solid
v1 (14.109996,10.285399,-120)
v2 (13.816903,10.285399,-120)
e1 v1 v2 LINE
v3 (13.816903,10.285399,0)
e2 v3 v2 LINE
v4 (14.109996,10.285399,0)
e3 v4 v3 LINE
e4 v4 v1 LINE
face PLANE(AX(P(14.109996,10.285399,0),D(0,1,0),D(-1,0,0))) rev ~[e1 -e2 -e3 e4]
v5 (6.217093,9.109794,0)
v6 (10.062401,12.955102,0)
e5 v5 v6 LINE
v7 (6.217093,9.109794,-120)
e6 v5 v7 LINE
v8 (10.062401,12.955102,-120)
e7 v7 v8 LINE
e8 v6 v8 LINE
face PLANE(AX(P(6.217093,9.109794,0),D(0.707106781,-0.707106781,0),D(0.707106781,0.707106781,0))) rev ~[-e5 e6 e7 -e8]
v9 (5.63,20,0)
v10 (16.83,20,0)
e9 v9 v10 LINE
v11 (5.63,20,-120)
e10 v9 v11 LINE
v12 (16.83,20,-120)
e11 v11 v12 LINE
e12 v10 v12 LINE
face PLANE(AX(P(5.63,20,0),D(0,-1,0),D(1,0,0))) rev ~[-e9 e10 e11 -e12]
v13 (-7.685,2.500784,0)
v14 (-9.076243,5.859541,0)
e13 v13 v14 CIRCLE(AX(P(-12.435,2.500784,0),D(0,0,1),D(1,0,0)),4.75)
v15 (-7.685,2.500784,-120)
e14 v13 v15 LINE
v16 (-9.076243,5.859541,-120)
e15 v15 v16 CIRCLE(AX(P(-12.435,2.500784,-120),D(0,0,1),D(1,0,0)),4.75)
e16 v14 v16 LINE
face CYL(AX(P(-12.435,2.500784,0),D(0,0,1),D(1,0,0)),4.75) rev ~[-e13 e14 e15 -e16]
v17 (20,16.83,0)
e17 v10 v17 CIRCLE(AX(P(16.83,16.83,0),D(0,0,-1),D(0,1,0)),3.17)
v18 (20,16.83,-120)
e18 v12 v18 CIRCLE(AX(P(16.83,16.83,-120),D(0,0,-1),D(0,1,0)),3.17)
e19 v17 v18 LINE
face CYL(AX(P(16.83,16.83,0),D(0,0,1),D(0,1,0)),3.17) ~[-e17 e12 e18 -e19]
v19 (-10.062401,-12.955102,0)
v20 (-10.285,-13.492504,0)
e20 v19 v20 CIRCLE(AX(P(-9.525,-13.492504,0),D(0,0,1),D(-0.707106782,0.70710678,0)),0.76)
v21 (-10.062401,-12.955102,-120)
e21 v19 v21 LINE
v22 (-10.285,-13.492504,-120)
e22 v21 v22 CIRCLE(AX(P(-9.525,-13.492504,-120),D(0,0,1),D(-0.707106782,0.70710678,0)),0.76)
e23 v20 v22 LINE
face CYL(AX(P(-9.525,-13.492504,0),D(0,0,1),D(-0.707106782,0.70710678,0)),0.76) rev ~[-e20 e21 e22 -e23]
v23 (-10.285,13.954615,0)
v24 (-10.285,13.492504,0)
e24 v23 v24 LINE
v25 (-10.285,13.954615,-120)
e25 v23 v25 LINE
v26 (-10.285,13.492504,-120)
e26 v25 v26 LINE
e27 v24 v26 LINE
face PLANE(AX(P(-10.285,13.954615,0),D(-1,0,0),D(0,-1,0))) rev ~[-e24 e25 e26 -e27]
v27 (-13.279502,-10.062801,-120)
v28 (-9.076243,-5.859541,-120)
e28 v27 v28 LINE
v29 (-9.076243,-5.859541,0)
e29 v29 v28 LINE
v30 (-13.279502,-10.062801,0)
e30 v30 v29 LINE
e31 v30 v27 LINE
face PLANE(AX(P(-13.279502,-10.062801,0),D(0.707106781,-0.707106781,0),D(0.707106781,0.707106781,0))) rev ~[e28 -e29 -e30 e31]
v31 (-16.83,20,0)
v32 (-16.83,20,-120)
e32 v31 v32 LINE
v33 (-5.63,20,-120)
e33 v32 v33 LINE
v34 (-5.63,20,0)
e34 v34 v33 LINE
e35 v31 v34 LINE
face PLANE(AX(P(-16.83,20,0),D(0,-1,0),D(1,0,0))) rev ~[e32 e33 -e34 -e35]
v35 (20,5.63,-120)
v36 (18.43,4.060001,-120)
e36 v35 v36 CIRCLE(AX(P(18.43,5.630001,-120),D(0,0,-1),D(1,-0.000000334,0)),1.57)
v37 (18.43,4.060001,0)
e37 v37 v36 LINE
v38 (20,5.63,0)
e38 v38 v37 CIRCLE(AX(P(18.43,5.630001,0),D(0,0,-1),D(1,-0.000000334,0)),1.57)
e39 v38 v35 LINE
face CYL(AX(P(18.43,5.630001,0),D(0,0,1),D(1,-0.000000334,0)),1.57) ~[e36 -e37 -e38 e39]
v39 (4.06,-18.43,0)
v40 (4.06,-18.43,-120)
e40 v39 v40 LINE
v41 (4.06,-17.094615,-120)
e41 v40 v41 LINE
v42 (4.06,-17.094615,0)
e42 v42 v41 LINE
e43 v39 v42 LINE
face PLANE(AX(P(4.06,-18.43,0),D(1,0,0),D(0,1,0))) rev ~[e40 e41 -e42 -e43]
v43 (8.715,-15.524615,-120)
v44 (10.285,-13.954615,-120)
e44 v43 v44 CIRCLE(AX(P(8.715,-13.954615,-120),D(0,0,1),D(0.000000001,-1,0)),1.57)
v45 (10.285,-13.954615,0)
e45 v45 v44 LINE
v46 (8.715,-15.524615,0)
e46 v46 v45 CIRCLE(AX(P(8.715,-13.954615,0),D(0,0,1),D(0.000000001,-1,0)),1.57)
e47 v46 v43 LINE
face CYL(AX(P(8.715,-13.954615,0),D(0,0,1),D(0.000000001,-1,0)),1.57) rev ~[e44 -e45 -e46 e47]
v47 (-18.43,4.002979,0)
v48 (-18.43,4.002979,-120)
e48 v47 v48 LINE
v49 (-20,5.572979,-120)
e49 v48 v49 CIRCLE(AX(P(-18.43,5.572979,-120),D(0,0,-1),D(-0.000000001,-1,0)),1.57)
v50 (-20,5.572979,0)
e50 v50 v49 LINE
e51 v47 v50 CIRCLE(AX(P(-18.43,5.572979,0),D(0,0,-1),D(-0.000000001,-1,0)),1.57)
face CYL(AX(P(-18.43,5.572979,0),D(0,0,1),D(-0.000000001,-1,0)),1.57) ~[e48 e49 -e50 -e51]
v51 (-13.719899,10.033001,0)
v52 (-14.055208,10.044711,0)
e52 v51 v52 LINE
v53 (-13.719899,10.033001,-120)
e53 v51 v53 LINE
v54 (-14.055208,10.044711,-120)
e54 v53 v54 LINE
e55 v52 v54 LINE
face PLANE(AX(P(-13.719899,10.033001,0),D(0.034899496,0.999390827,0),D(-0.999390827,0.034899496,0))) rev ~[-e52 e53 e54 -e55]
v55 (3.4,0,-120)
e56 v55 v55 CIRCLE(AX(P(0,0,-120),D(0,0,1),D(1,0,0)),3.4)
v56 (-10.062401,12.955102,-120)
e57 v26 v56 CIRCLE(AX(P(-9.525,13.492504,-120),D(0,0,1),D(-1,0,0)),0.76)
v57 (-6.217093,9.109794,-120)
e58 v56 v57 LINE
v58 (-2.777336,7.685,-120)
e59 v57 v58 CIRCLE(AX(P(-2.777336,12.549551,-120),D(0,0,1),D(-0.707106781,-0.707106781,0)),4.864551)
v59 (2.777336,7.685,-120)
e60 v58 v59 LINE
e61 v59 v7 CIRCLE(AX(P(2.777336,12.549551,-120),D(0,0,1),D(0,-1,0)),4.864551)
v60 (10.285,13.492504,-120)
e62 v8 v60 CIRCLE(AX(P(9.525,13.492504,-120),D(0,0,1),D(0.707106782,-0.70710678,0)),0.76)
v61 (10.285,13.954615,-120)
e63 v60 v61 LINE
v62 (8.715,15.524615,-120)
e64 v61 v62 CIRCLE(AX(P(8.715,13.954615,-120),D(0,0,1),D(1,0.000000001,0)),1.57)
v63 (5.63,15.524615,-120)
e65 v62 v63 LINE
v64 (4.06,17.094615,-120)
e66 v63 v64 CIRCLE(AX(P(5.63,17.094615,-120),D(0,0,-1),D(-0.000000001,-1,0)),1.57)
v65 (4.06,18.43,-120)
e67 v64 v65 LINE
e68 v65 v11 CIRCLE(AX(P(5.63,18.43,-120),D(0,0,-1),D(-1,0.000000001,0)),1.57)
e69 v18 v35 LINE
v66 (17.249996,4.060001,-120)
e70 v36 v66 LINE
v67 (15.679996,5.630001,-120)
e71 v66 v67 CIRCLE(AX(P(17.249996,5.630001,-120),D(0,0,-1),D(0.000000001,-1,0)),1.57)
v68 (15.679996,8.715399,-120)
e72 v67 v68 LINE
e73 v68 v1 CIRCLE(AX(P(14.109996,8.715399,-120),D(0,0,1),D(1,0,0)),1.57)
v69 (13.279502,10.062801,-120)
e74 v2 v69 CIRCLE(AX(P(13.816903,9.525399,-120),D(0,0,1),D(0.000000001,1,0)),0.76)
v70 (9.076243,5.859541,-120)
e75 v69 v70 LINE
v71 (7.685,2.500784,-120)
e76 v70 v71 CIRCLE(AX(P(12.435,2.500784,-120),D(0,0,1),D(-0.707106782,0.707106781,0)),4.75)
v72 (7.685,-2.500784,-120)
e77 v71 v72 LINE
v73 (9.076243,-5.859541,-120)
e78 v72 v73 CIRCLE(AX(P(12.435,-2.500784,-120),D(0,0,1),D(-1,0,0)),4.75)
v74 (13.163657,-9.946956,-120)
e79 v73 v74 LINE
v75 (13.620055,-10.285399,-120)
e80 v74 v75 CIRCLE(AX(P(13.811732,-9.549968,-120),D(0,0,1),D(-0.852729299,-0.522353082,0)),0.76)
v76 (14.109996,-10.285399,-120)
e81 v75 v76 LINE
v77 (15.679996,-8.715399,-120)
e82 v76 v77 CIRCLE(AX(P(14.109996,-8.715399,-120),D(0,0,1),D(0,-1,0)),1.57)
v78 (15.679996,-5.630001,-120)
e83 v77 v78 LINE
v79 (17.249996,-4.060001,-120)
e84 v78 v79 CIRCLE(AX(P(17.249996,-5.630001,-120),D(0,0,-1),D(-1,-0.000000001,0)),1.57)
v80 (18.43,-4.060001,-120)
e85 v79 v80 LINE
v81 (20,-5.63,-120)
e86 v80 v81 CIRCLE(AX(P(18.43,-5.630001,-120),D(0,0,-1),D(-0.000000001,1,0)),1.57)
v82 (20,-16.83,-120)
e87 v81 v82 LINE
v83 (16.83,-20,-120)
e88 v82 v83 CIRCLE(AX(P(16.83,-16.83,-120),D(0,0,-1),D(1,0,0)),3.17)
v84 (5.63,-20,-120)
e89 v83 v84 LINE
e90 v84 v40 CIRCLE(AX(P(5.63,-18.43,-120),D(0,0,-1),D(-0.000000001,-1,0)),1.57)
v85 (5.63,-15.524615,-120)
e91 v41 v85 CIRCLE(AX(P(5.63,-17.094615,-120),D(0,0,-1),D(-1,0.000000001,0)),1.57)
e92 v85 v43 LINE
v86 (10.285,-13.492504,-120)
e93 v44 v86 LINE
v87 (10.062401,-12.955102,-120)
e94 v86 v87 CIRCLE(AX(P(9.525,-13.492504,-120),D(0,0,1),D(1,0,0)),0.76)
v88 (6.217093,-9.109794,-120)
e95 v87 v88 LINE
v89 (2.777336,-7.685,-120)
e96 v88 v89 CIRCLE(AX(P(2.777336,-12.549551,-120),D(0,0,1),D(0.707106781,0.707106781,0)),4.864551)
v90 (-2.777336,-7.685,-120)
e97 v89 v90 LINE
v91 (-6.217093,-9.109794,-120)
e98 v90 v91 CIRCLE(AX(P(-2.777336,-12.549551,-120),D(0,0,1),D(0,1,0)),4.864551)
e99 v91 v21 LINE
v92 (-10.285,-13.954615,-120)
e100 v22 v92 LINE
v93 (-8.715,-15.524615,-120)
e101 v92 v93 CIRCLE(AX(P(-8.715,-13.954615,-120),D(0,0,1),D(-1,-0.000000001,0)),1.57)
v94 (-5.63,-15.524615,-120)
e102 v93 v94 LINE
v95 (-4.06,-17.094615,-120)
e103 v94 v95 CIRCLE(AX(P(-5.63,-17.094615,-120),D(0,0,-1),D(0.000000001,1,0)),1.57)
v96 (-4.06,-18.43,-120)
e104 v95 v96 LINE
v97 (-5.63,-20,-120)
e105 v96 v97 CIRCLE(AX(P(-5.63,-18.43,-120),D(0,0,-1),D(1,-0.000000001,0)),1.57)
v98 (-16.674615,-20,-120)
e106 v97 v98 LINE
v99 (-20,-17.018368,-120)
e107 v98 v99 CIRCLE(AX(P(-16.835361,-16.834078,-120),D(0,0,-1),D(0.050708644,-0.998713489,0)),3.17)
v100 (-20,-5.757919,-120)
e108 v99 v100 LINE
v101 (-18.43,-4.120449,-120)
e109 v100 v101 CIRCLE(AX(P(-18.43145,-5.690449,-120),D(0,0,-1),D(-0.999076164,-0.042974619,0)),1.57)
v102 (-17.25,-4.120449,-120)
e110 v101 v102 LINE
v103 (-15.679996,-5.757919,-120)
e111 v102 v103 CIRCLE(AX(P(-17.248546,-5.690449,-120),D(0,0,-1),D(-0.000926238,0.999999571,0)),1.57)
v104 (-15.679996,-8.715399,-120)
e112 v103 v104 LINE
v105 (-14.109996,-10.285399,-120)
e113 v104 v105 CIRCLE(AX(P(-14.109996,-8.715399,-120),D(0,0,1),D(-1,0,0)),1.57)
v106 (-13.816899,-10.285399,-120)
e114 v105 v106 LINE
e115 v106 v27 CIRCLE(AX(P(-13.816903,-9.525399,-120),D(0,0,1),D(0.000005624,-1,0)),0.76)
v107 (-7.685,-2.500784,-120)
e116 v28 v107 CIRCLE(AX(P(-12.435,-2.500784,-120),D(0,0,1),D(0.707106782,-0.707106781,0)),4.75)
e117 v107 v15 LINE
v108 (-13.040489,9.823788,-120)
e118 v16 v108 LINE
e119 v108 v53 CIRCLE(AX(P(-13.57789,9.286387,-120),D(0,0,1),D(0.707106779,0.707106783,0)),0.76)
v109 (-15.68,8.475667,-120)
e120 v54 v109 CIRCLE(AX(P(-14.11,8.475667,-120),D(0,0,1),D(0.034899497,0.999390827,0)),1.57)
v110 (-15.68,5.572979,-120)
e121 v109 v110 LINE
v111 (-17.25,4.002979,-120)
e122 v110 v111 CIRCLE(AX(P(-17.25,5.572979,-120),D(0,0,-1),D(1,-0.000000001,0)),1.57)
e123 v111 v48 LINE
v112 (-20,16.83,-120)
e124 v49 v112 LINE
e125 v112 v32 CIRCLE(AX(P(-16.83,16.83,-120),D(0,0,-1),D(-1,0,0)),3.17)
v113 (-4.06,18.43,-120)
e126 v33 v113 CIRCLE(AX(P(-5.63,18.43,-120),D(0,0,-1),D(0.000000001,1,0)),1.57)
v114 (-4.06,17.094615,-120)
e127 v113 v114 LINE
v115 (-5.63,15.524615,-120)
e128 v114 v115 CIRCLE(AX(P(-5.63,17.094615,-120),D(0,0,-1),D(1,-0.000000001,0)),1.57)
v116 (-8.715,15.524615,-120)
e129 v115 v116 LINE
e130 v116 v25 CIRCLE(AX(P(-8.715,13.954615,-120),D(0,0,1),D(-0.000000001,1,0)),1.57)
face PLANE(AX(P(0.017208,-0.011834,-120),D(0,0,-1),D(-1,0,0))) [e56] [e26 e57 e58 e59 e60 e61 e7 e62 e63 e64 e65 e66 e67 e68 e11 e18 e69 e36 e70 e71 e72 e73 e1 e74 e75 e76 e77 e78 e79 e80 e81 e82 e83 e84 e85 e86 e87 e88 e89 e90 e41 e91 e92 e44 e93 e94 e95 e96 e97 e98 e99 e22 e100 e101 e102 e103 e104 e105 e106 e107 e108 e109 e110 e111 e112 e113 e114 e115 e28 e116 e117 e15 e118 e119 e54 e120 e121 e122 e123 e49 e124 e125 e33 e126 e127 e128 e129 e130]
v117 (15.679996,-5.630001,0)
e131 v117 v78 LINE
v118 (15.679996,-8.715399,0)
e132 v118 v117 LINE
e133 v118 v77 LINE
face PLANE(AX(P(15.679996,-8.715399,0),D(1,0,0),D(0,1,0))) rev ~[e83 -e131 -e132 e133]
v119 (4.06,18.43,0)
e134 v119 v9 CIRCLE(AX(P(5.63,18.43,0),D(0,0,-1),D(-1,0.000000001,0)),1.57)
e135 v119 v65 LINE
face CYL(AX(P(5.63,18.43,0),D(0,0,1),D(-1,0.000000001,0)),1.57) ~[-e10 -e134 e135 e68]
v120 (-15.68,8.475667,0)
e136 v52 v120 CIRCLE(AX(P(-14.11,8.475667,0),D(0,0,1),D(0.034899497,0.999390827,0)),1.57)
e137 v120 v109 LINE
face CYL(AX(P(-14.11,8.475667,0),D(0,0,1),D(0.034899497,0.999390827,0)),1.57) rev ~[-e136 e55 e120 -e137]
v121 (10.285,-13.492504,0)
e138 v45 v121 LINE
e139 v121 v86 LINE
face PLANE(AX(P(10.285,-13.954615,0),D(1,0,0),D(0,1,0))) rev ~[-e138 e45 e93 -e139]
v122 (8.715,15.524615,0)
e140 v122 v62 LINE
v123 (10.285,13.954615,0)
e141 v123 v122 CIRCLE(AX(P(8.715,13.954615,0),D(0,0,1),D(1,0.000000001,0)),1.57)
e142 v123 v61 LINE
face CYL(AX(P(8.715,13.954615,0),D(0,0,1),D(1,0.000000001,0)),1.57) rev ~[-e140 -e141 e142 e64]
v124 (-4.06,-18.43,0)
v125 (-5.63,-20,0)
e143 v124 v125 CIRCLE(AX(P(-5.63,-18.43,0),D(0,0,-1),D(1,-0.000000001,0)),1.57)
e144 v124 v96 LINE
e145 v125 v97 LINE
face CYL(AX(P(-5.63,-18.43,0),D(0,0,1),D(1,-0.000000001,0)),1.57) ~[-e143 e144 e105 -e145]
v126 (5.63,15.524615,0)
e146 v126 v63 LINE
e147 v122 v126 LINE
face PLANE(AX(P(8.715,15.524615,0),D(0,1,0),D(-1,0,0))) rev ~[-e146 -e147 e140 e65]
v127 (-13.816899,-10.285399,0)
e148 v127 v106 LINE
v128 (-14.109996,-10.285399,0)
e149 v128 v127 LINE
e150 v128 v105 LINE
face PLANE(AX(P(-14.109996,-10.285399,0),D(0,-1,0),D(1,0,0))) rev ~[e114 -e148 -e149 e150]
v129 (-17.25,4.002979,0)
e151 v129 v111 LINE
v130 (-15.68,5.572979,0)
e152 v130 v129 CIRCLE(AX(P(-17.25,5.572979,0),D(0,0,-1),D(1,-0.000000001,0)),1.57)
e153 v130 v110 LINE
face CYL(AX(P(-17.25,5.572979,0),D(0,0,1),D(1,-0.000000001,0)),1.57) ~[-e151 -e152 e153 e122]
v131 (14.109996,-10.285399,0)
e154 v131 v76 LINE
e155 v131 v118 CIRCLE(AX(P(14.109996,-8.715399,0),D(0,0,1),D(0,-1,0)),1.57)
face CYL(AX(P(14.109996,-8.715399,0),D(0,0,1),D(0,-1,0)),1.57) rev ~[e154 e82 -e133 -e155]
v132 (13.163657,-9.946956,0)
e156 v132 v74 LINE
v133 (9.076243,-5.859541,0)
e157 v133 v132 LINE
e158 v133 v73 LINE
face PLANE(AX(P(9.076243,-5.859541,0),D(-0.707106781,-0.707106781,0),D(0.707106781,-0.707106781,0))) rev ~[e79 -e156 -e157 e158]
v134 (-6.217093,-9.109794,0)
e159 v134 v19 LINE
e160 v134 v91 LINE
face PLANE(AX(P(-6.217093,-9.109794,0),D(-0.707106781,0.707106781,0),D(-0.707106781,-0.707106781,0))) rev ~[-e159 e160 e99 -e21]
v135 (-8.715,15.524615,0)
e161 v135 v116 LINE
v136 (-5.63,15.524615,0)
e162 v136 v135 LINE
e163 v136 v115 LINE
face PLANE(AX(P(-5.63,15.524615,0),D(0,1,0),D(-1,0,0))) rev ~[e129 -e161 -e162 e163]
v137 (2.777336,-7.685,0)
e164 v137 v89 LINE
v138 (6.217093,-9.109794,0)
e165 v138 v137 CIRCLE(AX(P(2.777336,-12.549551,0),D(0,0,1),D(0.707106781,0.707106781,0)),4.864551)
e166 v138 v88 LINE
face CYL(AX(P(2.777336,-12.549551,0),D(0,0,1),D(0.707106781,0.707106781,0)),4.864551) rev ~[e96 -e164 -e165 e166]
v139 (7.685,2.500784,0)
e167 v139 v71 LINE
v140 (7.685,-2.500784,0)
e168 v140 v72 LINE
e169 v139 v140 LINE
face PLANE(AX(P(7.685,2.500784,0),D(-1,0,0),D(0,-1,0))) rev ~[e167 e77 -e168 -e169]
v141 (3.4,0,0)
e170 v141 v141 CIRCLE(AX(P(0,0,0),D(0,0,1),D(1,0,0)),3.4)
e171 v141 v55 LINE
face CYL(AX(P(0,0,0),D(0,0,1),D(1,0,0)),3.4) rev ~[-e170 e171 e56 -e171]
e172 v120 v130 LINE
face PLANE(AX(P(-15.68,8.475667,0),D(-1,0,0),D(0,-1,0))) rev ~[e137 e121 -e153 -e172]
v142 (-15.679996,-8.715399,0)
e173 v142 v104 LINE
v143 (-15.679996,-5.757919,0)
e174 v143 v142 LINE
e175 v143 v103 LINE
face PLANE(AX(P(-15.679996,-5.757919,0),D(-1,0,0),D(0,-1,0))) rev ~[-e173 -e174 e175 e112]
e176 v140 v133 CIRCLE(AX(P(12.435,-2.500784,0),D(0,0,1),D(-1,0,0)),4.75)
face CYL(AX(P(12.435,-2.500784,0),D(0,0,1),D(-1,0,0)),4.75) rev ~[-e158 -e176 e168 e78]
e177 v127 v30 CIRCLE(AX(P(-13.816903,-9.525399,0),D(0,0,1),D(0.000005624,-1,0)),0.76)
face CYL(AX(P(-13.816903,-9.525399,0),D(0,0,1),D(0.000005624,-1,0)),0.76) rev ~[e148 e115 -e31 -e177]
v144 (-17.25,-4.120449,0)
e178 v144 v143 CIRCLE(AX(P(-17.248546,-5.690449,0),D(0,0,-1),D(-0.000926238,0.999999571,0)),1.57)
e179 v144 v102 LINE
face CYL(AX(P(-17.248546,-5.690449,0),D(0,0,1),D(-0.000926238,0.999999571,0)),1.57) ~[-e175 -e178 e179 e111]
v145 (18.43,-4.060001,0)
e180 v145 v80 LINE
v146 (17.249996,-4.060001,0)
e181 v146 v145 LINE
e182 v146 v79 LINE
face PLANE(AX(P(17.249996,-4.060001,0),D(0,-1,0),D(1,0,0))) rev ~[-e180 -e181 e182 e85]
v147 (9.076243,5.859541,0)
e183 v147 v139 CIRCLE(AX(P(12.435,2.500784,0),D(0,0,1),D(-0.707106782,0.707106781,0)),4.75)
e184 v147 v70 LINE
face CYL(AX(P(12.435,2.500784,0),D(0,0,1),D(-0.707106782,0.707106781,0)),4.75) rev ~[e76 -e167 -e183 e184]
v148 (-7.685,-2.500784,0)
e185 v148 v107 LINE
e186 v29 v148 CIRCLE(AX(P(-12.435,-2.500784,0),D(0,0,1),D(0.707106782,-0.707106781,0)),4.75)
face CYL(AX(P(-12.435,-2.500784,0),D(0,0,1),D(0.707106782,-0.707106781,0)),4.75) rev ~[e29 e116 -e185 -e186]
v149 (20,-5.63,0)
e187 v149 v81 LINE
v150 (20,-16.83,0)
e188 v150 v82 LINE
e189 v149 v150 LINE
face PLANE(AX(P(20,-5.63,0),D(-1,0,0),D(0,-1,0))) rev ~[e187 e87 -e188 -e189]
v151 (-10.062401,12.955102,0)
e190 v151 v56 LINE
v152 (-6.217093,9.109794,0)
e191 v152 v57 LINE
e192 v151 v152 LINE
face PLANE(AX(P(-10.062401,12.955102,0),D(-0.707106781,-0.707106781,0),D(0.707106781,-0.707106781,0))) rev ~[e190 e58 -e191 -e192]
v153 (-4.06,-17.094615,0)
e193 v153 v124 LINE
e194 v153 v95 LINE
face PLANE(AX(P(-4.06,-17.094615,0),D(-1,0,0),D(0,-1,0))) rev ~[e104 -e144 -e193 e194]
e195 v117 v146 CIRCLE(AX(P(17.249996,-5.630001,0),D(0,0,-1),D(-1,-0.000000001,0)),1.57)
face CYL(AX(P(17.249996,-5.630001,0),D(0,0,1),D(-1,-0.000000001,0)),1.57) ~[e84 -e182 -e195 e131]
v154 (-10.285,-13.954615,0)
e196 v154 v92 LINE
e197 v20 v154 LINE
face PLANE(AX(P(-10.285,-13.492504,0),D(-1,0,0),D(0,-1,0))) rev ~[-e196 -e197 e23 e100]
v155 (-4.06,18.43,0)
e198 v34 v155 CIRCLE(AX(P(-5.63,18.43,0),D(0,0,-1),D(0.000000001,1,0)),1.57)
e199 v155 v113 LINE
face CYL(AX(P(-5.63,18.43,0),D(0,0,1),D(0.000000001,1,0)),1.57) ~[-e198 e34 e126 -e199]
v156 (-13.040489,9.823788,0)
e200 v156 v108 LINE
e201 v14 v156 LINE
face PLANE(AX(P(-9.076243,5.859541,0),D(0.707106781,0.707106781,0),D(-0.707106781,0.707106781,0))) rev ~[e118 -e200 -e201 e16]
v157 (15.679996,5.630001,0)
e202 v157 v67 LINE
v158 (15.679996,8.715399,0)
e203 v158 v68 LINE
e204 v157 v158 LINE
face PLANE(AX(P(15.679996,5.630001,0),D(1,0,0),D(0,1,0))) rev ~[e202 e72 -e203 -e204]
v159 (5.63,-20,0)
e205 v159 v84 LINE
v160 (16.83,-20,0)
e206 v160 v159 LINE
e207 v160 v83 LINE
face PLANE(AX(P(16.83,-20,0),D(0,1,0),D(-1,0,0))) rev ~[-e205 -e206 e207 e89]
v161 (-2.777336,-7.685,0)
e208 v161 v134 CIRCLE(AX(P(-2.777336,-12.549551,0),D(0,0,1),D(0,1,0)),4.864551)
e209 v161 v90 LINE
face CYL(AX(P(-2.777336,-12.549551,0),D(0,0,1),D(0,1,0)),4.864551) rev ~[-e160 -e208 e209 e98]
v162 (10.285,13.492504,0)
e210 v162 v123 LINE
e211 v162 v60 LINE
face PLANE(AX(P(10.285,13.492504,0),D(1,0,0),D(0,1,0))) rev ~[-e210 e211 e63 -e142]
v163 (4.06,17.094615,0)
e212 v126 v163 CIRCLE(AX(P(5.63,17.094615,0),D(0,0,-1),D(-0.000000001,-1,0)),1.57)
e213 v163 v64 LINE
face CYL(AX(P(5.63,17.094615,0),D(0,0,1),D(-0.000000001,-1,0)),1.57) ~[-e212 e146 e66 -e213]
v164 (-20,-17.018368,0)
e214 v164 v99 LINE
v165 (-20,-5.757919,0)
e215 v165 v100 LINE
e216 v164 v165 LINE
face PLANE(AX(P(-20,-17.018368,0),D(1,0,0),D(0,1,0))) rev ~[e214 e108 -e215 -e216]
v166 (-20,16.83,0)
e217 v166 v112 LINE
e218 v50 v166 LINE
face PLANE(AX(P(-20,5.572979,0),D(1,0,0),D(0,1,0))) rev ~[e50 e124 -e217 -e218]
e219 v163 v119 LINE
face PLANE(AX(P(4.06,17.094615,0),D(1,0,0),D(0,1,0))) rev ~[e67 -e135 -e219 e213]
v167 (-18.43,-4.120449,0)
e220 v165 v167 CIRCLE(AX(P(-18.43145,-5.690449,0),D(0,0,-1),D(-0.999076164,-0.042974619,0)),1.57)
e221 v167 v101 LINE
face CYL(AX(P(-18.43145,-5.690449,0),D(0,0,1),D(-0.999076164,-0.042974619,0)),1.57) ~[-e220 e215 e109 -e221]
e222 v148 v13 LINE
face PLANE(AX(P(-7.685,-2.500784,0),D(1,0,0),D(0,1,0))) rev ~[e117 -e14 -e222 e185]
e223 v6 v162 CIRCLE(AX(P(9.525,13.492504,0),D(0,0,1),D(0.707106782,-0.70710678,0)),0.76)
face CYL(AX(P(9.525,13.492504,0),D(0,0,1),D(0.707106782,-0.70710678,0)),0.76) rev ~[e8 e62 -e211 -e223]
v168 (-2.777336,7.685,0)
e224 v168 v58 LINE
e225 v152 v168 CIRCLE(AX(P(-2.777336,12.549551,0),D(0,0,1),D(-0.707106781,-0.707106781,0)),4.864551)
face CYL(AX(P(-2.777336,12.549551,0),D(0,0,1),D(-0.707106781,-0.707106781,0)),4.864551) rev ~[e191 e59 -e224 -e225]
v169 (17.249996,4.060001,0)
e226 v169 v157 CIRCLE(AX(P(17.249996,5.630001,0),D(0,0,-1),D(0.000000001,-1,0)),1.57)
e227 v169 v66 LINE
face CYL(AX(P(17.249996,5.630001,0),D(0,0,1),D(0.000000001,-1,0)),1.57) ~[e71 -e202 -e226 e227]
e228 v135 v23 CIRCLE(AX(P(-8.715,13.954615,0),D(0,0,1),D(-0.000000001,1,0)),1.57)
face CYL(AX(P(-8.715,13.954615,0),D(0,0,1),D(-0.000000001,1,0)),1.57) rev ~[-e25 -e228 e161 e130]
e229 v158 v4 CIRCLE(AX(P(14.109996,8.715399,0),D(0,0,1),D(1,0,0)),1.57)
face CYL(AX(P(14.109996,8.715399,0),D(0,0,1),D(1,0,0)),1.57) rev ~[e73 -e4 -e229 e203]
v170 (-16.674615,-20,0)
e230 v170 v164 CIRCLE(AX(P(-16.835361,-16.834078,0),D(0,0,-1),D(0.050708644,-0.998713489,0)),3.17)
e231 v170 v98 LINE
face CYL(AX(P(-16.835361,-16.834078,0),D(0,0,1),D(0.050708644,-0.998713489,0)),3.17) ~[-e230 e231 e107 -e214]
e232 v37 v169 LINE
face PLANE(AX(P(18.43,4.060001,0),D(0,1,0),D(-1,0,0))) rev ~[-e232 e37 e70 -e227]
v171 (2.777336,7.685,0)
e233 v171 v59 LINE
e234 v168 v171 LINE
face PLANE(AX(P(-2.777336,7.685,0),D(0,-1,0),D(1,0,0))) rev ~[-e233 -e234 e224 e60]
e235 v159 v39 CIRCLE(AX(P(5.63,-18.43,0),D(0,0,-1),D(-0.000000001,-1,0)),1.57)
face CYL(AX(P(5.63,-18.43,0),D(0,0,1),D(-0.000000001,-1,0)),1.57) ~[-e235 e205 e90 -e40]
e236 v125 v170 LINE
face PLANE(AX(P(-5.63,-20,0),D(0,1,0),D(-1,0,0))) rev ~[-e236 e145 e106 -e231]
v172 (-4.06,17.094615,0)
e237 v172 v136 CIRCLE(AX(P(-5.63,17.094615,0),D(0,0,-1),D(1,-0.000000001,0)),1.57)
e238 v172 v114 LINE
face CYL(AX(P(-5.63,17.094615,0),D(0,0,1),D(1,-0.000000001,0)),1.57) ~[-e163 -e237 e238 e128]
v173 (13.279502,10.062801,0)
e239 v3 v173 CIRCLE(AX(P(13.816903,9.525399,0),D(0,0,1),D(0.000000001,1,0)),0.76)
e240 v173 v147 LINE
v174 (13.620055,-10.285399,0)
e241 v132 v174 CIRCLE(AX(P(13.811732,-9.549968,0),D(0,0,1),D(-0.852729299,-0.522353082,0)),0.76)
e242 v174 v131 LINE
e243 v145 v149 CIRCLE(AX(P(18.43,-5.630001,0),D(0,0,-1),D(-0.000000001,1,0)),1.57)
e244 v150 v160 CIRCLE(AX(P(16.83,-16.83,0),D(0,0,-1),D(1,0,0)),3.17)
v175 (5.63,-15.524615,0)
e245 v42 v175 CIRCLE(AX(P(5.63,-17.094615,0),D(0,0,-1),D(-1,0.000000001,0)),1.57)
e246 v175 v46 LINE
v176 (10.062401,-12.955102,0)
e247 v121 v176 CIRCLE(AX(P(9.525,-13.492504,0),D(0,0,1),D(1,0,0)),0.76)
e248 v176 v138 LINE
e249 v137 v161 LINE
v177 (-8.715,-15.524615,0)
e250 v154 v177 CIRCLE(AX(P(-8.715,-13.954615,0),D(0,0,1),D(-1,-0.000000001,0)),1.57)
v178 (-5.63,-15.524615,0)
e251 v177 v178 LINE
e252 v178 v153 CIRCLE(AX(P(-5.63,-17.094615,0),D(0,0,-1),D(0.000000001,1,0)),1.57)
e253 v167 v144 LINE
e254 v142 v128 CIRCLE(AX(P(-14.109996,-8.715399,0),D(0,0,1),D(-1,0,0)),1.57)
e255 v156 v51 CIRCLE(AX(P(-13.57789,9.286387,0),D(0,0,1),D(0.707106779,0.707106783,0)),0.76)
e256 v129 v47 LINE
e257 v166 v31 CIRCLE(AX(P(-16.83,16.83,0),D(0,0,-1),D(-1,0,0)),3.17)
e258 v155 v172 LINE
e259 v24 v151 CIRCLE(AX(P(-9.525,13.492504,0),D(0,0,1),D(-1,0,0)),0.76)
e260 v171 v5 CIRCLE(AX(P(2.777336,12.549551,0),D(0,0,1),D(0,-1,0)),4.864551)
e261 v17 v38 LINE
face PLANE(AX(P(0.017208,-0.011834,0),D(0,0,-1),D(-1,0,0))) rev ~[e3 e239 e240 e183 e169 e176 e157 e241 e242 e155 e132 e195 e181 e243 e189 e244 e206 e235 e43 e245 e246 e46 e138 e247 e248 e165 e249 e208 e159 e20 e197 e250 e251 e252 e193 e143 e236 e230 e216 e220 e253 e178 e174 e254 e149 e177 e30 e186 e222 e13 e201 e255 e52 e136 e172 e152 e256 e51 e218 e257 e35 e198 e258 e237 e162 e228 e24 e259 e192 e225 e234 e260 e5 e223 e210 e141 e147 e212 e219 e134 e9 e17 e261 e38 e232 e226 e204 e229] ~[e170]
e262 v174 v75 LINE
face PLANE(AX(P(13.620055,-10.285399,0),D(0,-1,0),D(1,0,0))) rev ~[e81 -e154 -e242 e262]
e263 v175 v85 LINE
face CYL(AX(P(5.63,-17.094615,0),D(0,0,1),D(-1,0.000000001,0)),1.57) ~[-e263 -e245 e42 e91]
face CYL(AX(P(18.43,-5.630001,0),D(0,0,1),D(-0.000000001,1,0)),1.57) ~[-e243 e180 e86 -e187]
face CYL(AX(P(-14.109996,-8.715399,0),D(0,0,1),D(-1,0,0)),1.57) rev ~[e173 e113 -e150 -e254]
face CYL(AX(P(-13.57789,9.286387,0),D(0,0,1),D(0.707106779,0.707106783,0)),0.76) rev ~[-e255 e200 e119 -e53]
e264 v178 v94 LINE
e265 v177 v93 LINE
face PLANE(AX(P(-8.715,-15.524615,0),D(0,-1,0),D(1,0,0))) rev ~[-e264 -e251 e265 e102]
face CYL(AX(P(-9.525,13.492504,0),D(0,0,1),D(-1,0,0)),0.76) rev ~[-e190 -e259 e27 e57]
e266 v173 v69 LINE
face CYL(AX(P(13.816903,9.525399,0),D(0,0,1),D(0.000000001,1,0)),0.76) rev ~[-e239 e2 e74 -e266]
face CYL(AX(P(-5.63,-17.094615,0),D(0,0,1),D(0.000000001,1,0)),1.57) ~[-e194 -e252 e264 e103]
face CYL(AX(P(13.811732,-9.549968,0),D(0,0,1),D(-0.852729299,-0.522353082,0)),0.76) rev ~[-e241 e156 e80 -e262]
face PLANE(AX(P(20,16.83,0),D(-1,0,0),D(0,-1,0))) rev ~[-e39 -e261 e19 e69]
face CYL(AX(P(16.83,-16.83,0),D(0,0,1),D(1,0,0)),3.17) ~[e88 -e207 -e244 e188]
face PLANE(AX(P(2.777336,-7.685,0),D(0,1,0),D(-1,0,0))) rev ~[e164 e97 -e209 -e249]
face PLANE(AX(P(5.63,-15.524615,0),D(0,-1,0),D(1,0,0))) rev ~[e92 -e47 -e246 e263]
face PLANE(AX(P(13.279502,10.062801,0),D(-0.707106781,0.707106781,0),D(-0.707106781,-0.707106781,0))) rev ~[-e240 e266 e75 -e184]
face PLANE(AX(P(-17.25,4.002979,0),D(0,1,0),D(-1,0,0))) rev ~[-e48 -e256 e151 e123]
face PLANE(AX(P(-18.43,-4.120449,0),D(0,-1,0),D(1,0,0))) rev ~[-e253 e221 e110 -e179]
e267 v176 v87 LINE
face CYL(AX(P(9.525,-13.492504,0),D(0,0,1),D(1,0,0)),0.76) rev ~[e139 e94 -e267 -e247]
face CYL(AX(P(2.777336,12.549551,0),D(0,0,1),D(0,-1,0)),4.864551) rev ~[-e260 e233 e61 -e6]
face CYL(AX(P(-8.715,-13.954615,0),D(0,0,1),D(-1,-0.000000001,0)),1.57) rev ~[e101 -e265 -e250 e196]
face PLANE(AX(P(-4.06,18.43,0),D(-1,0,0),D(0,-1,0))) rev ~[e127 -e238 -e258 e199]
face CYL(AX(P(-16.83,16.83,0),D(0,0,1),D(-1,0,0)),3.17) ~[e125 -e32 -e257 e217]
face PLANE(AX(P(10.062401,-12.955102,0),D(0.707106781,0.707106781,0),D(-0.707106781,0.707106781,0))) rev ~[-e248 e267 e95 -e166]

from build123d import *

# Parameters (mm, degrees)
SKETCH1_R      = 3.4
EXTRUDE1_DEPTH = 120


with BuildPart() as part:
    # Sketch1 → Extrude1 (new body)
    with BuildSketch(Plane.XY):
        with BuildLine():
            Line((-8.715, -15.524615034), (-5.63, -15.524615034))
            ThreePointArc((-5.63, -15.524615034), (-4.519842354, -15.984457388), (-4.06, -17.094615034))
            Line((-4.06, -17.094615034), (-4.06, -18.43))
            ThreePointArc((-4.06, -18.43), (-4.519842354, -19.540157646), (-5.63, -20))
            Line((-5.63, -20), (-16.674615034, -20))
            ThreePointArc((-16.674615034, -20), (-18.951578385, -19.194274381), (-20, -17.018368134))
            Line((-20, -17.018368134), (-20, -5.757918808))
            ThreePointArc((-20, -5.757918808), (-19.564709668, -4.603883664), (-18.43, -4.120449326))
            Line((-18.43, -4.120449326), (-17.25, -4.120449326))
            ThreePointArc((-17.25, -4.120449326), (-16.115287682, -4.60388249), (-15.67999625, -5.757919334))
            Line((-15.67999625, -5.757919334), (-15.67999625, -8.715399492))
            ThreePointArc((-15.67999625, -8.715399492), (-15.220153896, -9.825557139), (-14.10999625, -10.285399492))
            Line((-14.10999625, -10.285399492), (-13.816898819, -10.285399492))
            ThreePointArc((-13.816898819, -10.285399492), (-13.526061711, -10.227547119), (-13.279501941, -10.062800646))
            Line((-13.279501941, -10.062800646), (-9.076242789, -5.859541495))
            ThreePointArc((-9.076242789, -5.859541495), (-8.046572221, -4.318530588), (-7.685, -2.500784284))
            Line((-7.685, -2.500784284), (-7.685, 2.500784284))
            ThreePointArc((-7.685, 2.500784284), (-8.046572221, 4.318530588), (-9.076242789, 5.859541495))
            Line((-9.076242789, 5.859541495), (-13.040489136, 9.823787841))
            ThreePointArc((-13.040489136, 9.823787841), (-13.354224618, 10.012729352), (-13.71989919, 10.033001362))
            Line((-13.71989919, 10.033001362), (-14.05520779, 10.044710596))
            ThreePointArc((-14.05520779, 10.044710596), (-15.200613642, 9.605030484), (-15.68, 8.475666998))
            Line((-15.68, 8.475666998), (-15.68, 5.572979049))
            ThreePointArc((-15.68, 5.572979049), (-16.139842354, 4.462821403), (-17.25, 4.002979049))
            Line((-17.25, 4.002979049), (-18.43, 4.002979049))
            ThreePointArc((-18.43, 4.002979049), (-19.540157646, 4.462821403), (-20, 5.572979049))
            Line((-20, 5.572979049), (-20, 13.004526564))
            Line((-20, 13.004526564), (-20, 16.83))
            ThreePointArc((-20, 16.83), (-19.071528496, 19.071528496), (-16.83, 20))
            Line((-16.83, 20), (-5.63, 20))
            ThreePointArc((-5.63, 20), (-4.519842354, 19.540157646), (-4.06, 18.43))
            Line((-4.06, 18.43), (-4.06, 17.094615034))
            ThreePointArc((-4.06, 17.094615034), (-4.519842354, 15.984457388), (-5.63, 15.524615034))
            Line((-5.63, 15.524615034), (-8.715, 15.524615034))
            ThreePointArc((-8.715, 15.524615034), (-9.825157646, 15.06477268), (-10.285, 13.954615034))
            Line((-10.285, 13.954615034), (-10.285, 13.492503602))
            ThreePointArc((-10.285, 13.492503602), (-10.227148445, 13.201664194), (-10.062401154, 12.955102448))
            Line((-10.062401154, 12.955102448), (-6.217092793, 9.109794088))
            ThreePointArc((-6.217092793, 9.109794088), (-4.63891877, 8.055291919), (-2.777335583, 7.685))
            Line((-2.777335583, 7.685), (2.777335583, 7.685))
            ThreePointArc((2.777335583, 7.685), (4.63891877, 8.055291919), (6.217092793, 9.109794088))
            Line((6.217092793, 9.109794088), (10.062401154, 12.955102448))
            ThreePointArc((10.062401154, 12.955102448), (10.227148445, 13.201664194), (10.285, 13.492503602))
            Line((10.285, 13.492503602), (10.285, 13.954615034))
            ThreePointArc((10.285, 13.954615034), (9.825157646, 15.06477268), (8.715, 15.524615034))
            Line((8.715, 15.524615034), (5.63, 15.524615034))
            ThreePointArc((5.63, 15.524615034), (4.519842354, 15.984457388), (4.06, 17.094615034))
            Line((4.06, 17.094615034), (4.06, 18.43))
            ThreePointArc((4.06, 18.43), (4.519842354, 19.540157646), (5.63, 20))
            Line((5.63, 20), (12.979635074, 20))
            Line((12.979635074, 20), (16.83, 20))
            ThreePointArc((16.83, 20), (19.071528496, 19.071528496), (20, 16.83))
            Line((20, 16.83), (20, 13.001098436))
            Line((20, 13.001098436), (20, 5.63))
            ThreePointArc((20, 5.63), (19.540157461, 4.519842693), (18.43, 4.060000526))
            Line((18.43, 4.060000526), (17.24999625, 4.060000526))
            ThreePointArc((17.24999625, 4.060000526), (16.139838603, 4.519842879), (15.67999625, 5.630000526))
            Line((15.67999625, 5.630000526), (15.67999625, 8.715399492))
            ThreePointArc((15.67999625, 8.715399492), (15.220153896, 9.825557139), (14.10999625, 10.285399492))
            Line((14.10999625, 10.285399492), (13.816903094, 10.285399492))
            ThreePointArc((13.816903094, 10.285399492), (13.526063686, 10.227547937), (13.279501941, 10.062800646))
            Line((13.279501941, 10.062800646), (9.076242789, 5.859541495))
            ThreePointArc((9.076242789, 5.859541495), (8.046572221, 4.318530588), (7.685, 2.500784284))
            Line((7.685, 2.500784284), (7.685, -2.500784284))
            ThreePointArc((7.685, -2.500784284), (8.046572221, -4.318530588), (9.076242789, -5.859541495))
            Line((9.076242789, -5.859541495), (13.163657296, -9.946956002))
            ThreePointArc((13.163657296, -9.946956002), (13.35903797, -10.160433474), (13.6200547, -10.285399492))
            Line((13.6200547, -10.285399492), (14.10999625, -10.285399492))
            ThreePointArc((14.10999625, -10.285399492), (15.220153896, -9.825557139), (15.67999625, -8.715399492))
            Line((15.67999625, -8.715399492), (15.67999625, -5.630000526))
            ThreePointArc((15.67999625, -5.630000526), (16.139838603, -4.519842879), (17.24999625, -4.060000526))
            Line((17.24999625, -4.060000526), (18.43, -4.060000526))
            ThreePointArc((18.43, -4.060000526), (19.540157461, -4.519842693), (20, -5.63))
            Line((20, -5.63), (20, -16.83))
            ThreePointArc((20, -16.83), (19.071528496, -19.071528496), (16.83, -20))
            Line((16.83, -20), (13, -20))
            Line((13, -20), (5.63, -20))
            ThreePointArc((5.63, -20), (4.519842354, -19.540157646), (4.06, -18.43))
            Line((4.06, -18.43), (4.06, -17.094615034))
            ThreePointArc((4.06, -17.094615034), (4.519842354, -15.984457388), (5.63, -15.524615034))
            Line((5.63, -15.524615034), (8.715, -15.524615034))
            ThreePointArc((8.715, -15.524615034), (9.825157646, -15.06477268), (10.285, -13.954615034))
            Line((10.285, -13.954615034), (10.285, -13.492503602))
            ThreePointArc((10.285, -13.492503602), (10.227148445, -13.201664194), (10.062401154, -12.955102448))
            Line((10.062401154, -12.955102448), (6.217092793, -9.109794088))
            ThreePointArc((6.217092793, -9.109794088), (4.63891877, -8.055291919), (2.777335583, -7.685))
            Line((2.777335583, -7.685), (-2.777335583, -7.685))
            ThreePointArc((-2.777335583, -7.685), (-4.63891877, -8.055291919), (-6.217092793, -9.109794088))
            Line((-6.217092793, -9.109794088), (-10.062401154, -12.955102448))
            ThreePointArc((-10.062401154, -12.955102448), (-10.227148445, -13.201664194), (-10.285, -13.492503602))
            Line((-10.285, -13.492503602), (-10.285, -13.954615034))
            ThreePointArc((-10.285, -13.954615034), (-9.825157646, -15.06477268), (-8.715, -15.524615034))
        make_face()
        Circle(SKETCH1_R, mode=Mode.SUBTRACT)
    extrude(amount=-EXTRUDE1_DEPTH)


solid = part.part
